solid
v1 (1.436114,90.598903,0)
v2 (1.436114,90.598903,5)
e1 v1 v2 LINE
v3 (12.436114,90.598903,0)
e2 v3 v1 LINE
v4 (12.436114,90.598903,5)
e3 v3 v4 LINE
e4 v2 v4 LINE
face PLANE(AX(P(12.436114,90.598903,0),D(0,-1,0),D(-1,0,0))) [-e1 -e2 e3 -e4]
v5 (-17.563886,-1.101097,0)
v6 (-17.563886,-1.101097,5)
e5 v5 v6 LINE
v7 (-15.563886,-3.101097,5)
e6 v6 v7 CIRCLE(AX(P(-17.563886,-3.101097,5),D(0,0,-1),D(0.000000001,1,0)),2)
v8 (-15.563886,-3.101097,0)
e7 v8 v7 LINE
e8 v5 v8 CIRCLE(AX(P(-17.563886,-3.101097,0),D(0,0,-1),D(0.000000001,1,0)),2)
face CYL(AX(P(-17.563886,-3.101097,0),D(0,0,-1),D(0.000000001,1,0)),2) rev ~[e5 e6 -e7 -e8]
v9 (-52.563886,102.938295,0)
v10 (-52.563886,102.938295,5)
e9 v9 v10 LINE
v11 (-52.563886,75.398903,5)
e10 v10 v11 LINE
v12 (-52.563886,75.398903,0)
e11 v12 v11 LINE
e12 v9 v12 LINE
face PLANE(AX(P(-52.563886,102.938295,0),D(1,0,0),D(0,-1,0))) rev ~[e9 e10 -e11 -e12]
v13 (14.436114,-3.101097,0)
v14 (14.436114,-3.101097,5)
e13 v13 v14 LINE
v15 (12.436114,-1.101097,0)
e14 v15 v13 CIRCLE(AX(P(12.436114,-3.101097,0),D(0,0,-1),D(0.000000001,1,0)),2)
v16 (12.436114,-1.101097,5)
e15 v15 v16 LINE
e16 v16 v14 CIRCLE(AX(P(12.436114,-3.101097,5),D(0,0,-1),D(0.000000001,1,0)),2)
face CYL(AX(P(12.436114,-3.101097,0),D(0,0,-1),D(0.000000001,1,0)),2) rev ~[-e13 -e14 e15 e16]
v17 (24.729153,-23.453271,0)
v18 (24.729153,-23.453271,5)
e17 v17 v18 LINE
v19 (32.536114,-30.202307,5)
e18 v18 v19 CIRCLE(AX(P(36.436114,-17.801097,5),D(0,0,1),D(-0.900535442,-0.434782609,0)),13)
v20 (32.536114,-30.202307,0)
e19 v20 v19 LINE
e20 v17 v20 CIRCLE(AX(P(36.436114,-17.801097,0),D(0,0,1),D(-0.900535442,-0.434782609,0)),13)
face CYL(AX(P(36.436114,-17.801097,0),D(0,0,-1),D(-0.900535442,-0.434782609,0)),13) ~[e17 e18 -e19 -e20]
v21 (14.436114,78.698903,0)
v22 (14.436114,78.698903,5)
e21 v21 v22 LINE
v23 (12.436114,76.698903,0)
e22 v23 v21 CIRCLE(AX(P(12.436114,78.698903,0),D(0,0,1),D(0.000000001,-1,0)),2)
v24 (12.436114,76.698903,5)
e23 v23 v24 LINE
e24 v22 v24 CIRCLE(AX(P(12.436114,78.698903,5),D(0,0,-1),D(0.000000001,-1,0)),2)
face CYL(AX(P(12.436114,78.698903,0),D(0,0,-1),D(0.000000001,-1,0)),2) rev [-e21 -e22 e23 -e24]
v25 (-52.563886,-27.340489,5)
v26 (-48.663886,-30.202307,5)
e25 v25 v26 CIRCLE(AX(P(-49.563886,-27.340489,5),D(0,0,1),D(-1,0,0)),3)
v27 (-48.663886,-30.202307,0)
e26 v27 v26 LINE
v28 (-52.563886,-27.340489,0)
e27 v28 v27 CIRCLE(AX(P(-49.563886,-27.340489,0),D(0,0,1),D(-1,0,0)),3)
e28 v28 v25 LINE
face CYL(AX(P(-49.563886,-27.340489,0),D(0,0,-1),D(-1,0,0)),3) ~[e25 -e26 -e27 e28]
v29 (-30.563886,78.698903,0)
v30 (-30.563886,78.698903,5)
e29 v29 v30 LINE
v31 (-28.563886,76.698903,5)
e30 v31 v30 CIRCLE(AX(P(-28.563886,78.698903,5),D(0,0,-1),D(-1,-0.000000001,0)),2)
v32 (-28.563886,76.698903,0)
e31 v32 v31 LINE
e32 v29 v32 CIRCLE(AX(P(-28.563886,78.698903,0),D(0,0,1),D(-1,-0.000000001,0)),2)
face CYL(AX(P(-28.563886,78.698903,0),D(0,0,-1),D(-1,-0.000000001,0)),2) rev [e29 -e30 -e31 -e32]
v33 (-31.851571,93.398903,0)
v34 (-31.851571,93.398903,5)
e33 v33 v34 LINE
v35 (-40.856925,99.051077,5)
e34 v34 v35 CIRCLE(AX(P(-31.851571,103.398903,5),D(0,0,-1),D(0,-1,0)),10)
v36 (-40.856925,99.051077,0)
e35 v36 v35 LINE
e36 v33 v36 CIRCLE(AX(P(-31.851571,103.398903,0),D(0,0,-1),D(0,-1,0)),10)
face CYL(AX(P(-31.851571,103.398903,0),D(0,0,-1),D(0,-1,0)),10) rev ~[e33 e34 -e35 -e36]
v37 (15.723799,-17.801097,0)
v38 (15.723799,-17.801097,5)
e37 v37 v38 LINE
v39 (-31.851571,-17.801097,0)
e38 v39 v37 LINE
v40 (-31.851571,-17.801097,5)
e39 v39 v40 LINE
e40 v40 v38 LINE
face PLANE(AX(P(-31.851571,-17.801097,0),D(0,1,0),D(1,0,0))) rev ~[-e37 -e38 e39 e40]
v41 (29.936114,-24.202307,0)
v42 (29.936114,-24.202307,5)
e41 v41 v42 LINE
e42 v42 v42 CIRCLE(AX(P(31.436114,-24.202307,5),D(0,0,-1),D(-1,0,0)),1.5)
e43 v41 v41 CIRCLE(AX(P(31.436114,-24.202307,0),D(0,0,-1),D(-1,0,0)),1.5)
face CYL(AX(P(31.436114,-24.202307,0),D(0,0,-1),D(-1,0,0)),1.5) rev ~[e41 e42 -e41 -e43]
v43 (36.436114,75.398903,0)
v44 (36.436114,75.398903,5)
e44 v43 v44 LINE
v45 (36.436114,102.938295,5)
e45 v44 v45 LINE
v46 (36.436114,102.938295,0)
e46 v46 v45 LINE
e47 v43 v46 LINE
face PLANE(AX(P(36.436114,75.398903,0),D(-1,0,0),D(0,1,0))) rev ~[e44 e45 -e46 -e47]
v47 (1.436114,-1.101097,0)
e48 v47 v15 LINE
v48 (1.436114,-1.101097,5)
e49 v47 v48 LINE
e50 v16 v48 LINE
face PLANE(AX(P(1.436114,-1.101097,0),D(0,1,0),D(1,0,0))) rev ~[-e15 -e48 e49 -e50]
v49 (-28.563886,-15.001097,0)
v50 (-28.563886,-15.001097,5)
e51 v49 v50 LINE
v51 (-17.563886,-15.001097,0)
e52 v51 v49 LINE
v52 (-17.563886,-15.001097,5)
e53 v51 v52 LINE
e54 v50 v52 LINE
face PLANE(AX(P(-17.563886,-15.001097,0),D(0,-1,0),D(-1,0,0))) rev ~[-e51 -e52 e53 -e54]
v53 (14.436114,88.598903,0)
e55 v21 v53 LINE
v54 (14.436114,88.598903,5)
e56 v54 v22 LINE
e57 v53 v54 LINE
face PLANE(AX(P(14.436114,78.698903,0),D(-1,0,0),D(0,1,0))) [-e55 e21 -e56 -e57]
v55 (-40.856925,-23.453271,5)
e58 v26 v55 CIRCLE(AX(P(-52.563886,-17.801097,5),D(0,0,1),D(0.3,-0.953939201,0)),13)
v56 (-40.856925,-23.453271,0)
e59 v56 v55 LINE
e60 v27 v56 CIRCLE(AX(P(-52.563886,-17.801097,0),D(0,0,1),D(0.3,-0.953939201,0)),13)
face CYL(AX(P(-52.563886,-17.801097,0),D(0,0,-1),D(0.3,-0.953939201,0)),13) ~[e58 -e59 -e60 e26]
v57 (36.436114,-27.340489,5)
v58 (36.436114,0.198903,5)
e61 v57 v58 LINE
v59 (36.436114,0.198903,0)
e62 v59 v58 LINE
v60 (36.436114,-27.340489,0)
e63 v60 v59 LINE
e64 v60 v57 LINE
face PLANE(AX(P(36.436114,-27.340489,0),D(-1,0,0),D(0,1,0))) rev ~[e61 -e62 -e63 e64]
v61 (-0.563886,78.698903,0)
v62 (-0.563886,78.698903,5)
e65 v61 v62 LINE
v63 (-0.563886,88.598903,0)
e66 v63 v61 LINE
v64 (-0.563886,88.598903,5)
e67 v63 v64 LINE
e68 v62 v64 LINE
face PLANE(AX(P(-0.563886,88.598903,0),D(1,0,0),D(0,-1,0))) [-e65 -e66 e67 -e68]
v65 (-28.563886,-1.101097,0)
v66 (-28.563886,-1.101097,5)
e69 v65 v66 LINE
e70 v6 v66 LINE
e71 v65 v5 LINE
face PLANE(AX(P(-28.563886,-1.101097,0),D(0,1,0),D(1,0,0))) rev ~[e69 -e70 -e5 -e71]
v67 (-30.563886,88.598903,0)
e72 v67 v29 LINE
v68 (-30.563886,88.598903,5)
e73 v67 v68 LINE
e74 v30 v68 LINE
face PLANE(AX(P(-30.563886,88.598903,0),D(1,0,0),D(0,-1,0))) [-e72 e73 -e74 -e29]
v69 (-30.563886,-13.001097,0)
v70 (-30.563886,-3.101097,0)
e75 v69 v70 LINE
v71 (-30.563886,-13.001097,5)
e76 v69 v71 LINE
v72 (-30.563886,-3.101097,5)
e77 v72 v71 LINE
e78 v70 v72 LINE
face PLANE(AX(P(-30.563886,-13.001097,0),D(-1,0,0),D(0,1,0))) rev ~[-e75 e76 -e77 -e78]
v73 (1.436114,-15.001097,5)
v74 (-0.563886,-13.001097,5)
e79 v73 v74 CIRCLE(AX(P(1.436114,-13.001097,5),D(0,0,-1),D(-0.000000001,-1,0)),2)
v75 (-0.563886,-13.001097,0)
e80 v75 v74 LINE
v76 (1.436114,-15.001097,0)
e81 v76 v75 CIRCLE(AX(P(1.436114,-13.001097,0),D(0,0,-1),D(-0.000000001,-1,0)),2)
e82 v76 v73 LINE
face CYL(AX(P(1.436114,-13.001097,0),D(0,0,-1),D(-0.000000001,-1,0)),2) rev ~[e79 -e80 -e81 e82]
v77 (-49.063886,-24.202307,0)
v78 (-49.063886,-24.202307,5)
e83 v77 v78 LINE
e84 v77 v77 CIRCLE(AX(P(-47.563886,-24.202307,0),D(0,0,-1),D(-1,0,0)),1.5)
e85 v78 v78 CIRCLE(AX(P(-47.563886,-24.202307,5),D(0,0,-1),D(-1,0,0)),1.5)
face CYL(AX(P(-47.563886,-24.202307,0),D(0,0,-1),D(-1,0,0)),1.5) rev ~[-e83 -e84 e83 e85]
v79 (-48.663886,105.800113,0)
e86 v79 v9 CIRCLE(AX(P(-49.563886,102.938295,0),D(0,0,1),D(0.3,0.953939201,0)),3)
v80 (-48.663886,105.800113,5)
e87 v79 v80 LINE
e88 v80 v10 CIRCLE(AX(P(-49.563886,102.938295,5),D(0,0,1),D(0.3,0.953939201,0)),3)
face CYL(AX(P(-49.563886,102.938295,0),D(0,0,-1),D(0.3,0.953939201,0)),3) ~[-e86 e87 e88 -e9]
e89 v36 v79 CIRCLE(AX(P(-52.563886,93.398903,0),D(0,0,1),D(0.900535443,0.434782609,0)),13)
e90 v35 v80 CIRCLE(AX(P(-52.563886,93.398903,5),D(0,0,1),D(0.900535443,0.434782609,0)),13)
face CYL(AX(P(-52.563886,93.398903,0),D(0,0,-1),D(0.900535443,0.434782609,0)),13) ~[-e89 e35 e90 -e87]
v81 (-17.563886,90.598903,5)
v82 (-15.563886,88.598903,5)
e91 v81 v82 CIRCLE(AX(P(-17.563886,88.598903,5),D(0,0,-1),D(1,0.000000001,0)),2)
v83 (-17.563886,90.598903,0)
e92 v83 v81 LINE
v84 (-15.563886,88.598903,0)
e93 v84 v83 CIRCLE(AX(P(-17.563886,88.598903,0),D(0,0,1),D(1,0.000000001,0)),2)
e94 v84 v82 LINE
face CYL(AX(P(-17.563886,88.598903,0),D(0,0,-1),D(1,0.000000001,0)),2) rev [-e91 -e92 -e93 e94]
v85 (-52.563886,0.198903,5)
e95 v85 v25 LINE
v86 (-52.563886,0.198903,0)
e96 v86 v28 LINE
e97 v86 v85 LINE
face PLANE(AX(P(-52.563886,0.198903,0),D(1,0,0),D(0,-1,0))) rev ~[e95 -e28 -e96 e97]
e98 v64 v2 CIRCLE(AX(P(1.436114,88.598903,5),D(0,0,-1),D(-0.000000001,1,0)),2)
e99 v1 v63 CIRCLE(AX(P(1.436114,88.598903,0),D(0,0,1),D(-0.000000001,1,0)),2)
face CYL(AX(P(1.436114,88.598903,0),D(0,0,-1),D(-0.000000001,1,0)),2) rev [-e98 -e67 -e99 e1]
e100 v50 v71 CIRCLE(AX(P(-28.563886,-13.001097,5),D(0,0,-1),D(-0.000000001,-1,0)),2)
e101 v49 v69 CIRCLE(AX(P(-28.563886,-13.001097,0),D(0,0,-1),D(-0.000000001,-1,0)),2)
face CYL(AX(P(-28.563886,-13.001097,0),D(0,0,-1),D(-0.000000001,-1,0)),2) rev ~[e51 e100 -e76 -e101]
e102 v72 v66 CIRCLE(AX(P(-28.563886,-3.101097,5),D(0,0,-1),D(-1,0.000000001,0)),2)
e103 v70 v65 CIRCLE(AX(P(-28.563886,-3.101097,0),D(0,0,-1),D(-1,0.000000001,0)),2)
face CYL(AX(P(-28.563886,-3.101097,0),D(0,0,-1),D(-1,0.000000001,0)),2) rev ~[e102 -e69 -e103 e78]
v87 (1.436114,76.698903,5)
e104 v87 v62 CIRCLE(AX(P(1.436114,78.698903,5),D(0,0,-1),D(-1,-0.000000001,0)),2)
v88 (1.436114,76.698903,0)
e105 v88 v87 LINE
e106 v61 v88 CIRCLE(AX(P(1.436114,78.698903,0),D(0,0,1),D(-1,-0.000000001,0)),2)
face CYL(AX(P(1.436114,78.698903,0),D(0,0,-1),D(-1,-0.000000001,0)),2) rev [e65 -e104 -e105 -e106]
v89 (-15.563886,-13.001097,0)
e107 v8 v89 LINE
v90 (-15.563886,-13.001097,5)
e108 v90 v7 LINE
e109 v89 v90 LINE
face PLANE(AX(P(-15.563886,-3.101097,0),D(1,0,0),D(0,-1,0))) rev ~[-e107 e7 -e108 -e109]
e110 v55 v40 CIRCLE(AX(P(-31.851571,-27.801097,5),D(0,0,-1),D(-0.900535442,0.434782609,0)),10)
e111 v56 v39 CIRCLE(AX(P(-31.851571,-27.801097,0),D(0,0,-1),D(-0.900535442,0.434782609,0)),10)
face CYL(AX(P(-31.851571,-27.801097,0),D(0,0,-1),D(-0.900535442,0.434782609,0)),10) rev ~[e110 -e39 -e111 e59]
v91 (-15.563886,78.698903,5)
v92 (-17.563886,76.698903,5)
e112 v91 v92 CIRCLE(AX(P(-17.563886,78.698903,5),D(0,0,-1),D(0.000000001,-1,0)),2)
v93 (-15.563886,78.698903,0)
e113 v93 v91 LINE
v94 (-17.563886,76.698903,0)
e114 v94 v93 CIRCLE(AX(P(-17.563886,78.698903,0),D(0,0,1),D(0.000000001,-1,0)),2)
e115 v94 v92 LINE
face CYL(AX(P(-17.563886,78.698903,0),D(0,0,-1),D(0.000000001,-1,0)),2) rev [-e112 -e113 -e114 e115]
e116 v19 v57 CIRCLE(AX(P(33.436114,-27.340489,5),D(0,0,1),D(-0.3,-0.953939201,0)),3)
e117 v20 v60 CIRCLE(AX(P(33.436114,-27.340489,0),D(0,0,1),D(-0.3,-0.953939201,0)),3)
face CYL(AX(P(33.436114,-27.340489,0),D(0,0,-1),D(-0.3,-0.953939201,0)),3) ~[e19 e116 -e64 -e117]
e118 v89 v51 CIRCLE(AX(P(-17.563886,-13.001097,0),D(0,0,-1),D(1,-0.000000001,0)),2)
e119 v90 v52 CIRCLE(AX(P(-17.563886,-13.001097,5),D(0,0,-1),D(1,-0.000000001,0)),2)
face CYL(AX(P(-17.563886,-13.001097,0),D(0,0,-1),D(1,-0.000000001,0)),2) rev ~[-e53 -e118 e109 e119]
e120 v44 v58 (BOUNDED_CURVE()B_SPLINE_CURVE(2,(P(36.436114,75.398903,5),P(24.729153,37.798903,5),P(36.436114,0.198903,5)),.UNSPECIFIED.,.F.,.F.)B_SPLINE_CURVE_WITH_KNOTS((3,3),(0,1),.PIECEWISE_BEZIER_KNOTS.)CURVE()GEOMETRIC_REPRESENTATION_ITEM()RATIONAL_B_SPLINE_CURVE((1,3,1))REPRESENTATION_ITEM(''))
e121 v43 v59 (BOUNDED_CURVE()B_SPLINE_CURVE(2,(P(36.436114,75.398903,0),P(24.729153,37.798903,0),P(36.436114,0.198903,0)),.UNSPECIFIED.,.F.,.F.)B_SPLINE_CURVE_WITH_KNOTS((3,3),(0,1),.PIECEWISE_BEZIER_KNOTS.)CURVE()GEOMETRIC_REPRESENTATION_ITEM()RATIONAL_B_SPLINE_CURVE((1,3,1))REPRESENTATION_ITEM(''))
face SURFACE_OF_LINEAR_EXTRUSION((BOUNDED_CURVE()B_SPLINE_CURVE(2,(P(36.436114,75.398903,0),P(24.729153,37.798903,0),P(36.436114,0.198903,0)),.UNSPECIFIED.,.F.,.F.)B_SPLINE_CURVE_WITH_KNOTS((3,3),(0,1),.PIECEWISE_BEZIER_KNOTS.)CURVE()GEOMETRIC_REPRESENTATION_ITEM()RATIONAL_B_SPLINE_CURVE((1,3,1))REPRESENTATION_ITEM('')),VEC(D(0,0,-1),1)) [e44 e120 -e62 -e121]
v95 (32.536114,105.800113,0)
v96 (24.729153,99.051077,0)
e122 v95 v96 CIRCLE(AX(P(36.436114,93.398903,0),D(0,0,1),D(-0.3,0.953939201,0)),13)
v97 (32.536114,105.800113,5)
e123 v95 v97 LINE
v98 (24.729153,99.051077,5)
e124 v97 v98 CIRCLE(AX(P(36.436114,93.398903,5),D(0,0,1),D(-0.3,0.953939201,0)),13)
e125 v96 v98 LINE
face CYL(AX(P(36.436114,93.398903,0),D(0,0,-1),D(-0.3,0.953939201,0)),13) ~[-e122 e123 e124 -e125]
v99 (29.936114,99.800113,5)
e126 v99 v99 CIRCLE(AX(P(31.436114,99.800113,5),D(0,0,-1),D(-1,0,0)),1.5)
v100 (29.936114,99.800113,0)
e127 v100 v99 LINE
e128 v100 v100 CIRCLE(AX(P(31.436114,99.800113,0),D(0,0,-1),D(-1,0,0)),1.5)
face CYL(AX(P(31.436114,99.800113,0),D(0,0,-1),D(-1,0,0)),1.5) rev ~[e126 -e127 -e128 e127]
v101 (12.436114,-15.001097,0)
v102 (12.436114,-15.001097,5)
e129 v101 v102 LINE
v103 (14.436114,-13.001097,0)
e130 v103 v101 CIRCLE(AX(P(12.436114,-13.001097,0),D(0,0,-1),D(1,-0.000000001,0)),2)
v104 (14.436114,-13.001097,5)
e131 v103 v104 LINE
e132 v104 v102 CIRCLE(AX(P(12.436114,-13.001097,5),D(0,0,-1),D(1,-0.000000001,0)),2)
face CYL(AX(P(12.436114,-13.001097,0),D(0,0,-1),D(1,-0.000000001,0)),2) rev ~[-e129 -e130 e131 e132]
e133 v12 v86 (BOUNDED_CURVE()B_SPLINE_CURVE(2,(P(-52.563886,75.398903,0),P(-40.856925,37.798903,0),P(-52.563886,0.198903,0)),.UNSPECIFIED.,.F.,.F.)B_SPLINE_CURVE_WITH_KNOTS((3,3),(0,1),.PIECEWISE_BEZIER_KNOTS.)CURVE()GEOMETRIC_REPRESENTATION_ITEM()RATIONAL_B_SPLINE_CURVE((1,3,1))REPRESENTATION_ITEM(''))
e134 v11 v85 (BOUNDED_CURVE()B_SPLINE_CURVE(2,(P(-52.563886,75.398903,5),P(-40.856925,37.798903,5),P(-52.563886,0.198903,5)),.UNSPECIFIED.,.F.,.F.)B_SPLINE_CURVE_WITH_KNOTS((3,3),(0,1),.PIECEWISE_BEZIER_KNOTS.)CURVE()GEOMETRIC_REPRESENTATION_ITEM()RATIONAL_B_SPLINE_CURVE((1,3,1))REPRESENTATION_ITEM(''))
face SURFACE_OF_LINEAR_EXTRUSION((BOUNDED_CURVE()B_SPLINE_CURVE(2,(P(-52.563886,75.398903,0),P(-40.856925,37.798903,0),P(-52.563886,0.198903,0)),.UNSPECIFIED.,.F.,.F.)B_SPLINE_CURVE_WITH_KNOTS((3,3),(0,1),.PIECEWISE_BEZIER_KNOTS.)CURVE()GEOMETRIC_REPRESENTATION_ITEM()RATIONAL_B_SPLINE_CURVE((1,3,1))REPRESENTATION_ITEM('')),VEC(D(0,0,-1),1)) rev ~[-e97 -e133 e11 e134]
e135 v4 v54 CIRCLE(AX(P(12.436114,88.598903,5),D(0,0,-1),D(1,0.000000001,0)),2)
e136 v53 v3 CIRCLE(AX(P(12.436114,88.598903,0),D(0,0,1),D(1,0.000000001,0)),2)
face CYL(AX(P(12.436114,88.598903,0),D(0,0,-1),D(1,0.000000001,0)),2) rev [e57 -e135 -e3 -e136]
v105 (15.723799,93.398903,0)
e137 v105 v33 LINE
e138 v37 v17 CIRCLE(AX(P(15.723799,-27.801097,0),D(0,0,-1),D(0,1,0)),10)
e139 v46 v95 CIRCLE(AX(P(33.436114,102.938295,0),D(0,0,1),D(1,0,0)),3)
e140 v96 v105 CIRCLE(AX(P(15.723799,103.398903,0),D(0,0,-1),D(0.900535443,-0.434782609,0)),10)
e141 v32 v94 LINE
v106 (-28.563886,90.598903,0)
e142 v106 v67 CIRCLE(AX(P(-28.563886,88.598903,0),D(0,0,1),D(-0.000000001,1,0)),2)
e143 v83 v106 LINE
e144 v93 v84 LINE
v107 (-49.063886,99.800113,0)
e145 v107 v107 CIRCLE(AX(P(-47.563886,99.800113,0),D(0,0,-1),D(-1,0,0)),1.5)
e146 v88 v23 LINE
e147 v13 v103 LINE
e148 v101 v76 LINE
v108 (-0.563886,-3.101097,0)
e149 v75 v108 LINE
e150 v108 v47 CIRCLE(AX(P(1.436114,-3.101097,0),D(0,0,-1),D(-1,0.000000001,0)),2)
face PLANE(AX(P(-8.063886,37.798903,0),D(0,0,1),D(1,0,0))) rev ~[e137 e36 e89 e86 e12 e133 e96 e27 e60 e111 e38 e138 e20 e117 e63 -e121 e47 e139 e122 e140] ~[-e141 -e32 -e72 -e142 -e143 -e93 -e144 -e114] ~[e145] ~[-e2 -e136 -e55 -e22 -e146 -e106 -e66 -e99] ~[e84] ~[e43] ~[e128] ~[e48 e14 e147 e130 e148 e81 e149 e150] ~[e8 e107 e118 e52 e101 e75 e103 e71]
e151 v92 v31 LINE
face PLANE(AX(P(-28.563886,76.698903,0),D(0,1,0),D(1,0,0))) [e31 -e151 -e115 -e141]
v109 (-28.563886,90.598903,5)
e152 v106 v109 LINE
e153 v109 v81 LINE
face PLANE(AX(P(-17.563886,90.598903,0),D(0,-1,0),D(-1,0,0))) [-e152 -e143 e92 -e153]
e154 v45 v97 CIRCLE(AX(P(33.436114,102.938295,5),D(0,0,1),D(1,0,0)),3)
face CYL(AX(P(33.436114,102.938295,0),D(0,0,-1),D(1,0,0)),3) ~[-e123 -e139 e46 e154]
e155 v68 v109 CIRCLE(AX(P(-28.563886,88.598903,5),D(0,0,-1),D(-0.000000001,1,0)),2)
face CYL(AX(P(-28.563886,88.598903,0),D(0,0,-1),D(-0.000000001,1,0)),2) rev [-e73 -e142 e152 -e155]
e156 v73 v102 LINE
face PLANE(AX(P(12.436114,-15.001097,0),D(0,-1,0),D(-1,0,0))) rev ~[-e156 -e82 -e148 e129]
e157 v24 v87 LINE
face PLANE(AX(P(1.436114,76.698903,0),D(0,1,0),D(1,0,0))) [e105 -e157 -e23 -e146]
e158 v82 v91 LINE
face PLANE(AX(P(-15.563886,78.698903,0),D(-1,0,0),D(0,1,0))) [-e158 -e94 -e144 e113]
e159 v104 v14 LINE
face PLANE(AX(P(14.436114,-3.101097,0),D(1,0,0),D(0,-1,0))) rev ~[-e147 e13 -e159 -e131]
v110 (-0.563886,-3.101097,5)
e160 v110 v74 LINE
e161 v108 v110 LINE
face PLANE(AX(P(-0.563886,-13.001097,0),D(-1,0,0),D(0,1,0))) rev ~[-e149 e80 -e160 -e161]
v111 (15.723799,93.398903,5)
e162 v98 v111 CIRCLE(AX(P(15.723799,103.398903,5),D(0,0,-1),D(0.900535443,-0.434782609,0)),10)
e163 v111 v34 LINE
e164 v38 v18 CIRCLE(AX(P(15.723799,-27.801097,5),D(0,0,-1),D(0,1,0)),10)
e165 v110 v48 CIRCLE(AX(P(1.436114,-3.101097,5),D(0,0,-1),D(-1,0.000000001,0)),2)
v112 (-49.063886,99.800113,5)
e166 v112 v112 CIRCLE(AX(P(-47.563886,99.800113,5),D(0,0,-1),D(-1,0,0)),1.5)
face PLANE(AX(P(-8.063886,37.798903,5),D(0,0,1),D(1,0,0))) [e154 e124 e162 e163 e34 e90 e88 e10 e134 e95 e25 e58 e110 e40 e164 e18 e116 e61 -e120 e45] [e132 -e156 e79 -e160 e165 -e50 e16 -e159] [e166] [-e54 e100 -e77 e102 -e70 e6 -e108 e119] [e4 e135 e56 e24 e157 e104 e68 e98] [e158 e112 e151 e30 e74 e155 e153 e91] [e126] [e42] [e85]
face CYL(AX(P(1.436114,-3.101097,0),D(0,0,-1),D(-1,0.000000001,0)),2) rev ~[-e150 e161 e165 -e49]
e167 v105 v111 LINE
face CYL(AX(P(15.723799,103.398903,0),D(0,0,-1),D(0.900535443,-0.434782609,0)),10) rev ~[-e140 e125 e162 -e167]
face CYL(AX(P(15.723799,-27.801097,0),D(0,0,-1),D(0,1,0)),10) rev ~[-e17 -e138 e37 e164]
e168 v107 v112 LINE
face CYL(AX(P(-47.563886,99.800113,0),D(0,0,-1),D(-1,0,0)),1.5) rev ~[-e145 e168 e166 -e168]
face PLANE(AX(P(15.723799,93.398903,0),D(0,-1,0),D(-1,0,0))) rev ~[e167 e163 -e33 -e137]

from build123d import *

# Parameters (mm, degrees)
RESSALTO_EXTRUS_O3_DEPTH = 5
ESBO_O4_R                = 1.5
CORTE_EXTRUS_O3_DEPTH    = 10


with BuildPart() as part:
    # Esboço1 → Ressalto-extrusão3 (new body)
    with BuildSketch(Plane.XY):
        with BuildLine():
            Line((-31.851570772, -17.801096987), (-27.063885949, -17.801096987))
            Line((-27.063885949, -17.801096987), (10.936114051, -17.801096987))
            Line((10.936114051, -17.801096987), (15.723798874, -17.801096987))
            ThreePointArc((15.723798874, -17.801096987), (21.039894205, -19.331201448), (24.729153299, -23.4532709))
            ThreePointArc((24.729153299, -23.4532709), (27.934250919, -27.635644423), (32.536114051, -30.202306605))
            ThreePointArc((32.536114051, -30.202306605), (35.210937986, -29.759166326), (36.436114051, -27.340489001))
            Line((36.436114051, -27.340489001), (36.436114051, -17.801096987))
            Line((36.436114051, -17.801096987), (36.436114051, 0.198903013))
            add(Edge.make_bspline(
                [(36.436114051, 75.398903013), (24.729153299, 37.798903013), (36.436114051, 0.198903013)],
                knots=[0, 0, 0, 1, 1, 1], degree=2, weights=[1, 3, 1]))
            Line((36.436114051, 75.398903013), (36.436114051, 93.398903013))
            Line((36.436114051, 93.398903013), (36.436114051, 102.938295027))
            ThreePointArc((36.436114051, 102.938295027), (35.210937986, 105.356972352), (32.536114051, 105.800112631))
            ThreePointArc((32.536114051, 105.800112631), (27.934250919, 103.23345045), (24.729153299, 99.051076926))
            ThreePointArc((24.729153299, 99.051076926), (21.039894205, 94.929007474), (15.723798874, 93.398903013))
            Line((15.723798874, 93.398903013), (10.936114051, 93.398903013))
            Line((10.936114051, 93.398903013), (-27.063885949, 93.398903013))
            Line((-27.063885949, 93.398903013), (-31.851570772, 93.398903013))
            ThreePointArc((-31.851570772, 93.398903013), (-37.167666102, 94.929007474), (-40.856925197, 99.051076926))
            ThreePointArc((-40.856925197, 99.051076926), (-44.062022817, 103.23345045), (-48.663885949, 105.800112631))
            ThreePointArc((-48.663885949, 105.800112631), (-51.338709884, 105.356972352), (-52.563885949, 102.938295027))
            Line((-52.563885949, 102.938295027), (-52.563885949, 93.398903013))
            Line((-52.563885949, 93.398903013), (-52.563885949, 75.398903013))
            add(Edge.make_bspline(
                [(-52.563885949, 75.398903013), (-40.856925197, 37.798903013), (-52.563885949, 0.198903013)],
                knots=[0, 0, 0, 1, 1, 1], degree=2, weights=[1, 3, 1]))
            Line((-52.563885949, 0.198903013), (-52.563885949, -17.801096987))
            Line((-52.563885949, -17.801096987), (-52.563885949, -27.340489001))
            ThreePointArc((-52.563885949, -27.340489001), (-51.338709884, -29.759166326), (-48.663885949, -30.202306605))
            ThreePointArc((-48.663885949, -30.202306605), (-44.062022817, -27.635644423), (-40.856925197, -23.4532709))
            ThreePointArc((-40.856925197, -23.4532709), (-37.167666102, -19.331201448), (-31.851570772, -17.801096987))
        make_face()
    extrude(amount=RESSALTO_EXTRUS_O3_DEPTH)

    # Esboço4 → Corte-extrusão3 (cut)
    with BuildSketch(Plane(origin=(0, 0, 0), x_dir=(-1, 0, 0), z_dir=(0, 0, -1))):
        with Locations((-31.436114051, 99.800112631)):
            Circle(ESBO_O4_R)
        with Locations((47.563885949, 99.800112631)):
            Circle(ESBO_O4_R)
        with Locations((47.563885949, -24.202306605)):
            Circle(ESBO_O4_R)
        with Locations((-31.436114051, -24.202306605)):
            Circle(ESBO_O4_R)
        with BuildLine():
            Line((-12.436114051, 90.598903013), (-1.436114051, 90.598903013))
            ThreePointArc((-1.436114051, 90.598903013), (-0.021900489, 90.013116575), (0.563885949, 88.598903013))
            Line((0.563885949, 88.598903013), (0.563885949, 78.698903013))
            ThreePointArc((0.563885949, 78.698903013), (-0.021900489, 77.284689451), (-1.436114051, 76.698903013))
            Line((-1.436114051, 76.698903013), (-12.436114051, 76.698903013))
            ThreePointArc((-12.436114051, 76.698903013), (-13.850327613, 77.284689451), (-14.436114051, 78.698903013))
            Line((-14.436114051, 78.698903013), (-14.436114051, 88.598903013))
            ThreePointArc((-14.436114051, 88.598903013), (-13.850327613, 90.013116575), (-12.436114051, 90.598903013))
        make_face()
        with BuildLine():
            Line((17.563885949, 90.598903013), (28.563885949, 90.598903013))
            ThreePointArc((28.563885949, 90.598903013), (29.978099511, 90.013116575), (30.563885949, 88.598903013))
            Line((30.563885949, 88.598903013), (30.563885949, 78.698903013))
            ThreePointArc((30.563885949, 78.698903013), (29.978099511, 77.284689451), (28.563885949, 76.698903013))
            Line((28.563885949, 76.698903013), (17.563885949, 76.698903013))
            ThreePointArc((17.563885949, 76.698903013), (16.149672387, 77.284689451), (15.563885949, 78.698903013))
            Line((15.563885949, 78.698903013), (15.563885949, 88.598903013))
            ThreePointArc((15.563885949, 88.598903013), (16.149672387, 90.013116575), (17.563885949, 90.598903013))
        make_face()
        with BuildLine():
            Line((30.563885949, -13.001096987), (30.563885949, -3.101096987))
            ThreePointArc((30.563885949, -3.101096987), (29.978099511, -1.686883425), (28.563885949, -1.101096987))
            Line((28.563885949, -1.101096987), (17.563885949, -1.101096987))
            ThreePointArc((17.563885949, -1.101096987), (16.149672387, -1.686883425), (15.563885949, -3.101096987))
            Line((15.563885949, -3.101096987), (15.563885949, -13.001096987))
            ThreePointArc((15.563885949, -13.001096987), (16.149672387, -14.415310549), (17.563885949, -15.001096987))
            Line((17.563885949, -15.001096987), (28.563885949, -15.001096987))
            ThreePointArc((28.563885949, -15.001096987), (29.978099511, -14.415310549), (30.563885949, -13.001096987))
        make_face()
        with BuildLine():
            Line((0.563885949, -13.001096987), (0.563885949, -3.101096987))
            ThreePointArc((0.563885949, -3.101096987), (-0.021900489, -1.686883425), (-1.436114051, -1.101096987))
            Line((-1.436114051, -1.101096987), (-12.436114051, -1.101096987))
            ThreePointArc((-12.436114051, -1.101096987), (-13.850327613, -1.686883425), (-14.436114051, -3.101096987))
            Line((-14.436114051, -3.101096987), (-14.436114051, -13.001096987))
            ThreePointArc((-14.436114051, -13.001096987), (-13.850327613, -14.415310549), (-12.436114051, -15.001096987))
            Line((-12.436114051, -15.001096987), (-1.436114051, -15.001096987))
            ThreePointArc((-1.436114051, -15.001096987), (-0.021900489, -14.415310549), (0.563885949, -13.001096987))
        make_face()
    extrude(amount=-CORTE_EXTRUS_O3_DEPTH, mode=Mode.SUBTRACT)


solid = part.part
